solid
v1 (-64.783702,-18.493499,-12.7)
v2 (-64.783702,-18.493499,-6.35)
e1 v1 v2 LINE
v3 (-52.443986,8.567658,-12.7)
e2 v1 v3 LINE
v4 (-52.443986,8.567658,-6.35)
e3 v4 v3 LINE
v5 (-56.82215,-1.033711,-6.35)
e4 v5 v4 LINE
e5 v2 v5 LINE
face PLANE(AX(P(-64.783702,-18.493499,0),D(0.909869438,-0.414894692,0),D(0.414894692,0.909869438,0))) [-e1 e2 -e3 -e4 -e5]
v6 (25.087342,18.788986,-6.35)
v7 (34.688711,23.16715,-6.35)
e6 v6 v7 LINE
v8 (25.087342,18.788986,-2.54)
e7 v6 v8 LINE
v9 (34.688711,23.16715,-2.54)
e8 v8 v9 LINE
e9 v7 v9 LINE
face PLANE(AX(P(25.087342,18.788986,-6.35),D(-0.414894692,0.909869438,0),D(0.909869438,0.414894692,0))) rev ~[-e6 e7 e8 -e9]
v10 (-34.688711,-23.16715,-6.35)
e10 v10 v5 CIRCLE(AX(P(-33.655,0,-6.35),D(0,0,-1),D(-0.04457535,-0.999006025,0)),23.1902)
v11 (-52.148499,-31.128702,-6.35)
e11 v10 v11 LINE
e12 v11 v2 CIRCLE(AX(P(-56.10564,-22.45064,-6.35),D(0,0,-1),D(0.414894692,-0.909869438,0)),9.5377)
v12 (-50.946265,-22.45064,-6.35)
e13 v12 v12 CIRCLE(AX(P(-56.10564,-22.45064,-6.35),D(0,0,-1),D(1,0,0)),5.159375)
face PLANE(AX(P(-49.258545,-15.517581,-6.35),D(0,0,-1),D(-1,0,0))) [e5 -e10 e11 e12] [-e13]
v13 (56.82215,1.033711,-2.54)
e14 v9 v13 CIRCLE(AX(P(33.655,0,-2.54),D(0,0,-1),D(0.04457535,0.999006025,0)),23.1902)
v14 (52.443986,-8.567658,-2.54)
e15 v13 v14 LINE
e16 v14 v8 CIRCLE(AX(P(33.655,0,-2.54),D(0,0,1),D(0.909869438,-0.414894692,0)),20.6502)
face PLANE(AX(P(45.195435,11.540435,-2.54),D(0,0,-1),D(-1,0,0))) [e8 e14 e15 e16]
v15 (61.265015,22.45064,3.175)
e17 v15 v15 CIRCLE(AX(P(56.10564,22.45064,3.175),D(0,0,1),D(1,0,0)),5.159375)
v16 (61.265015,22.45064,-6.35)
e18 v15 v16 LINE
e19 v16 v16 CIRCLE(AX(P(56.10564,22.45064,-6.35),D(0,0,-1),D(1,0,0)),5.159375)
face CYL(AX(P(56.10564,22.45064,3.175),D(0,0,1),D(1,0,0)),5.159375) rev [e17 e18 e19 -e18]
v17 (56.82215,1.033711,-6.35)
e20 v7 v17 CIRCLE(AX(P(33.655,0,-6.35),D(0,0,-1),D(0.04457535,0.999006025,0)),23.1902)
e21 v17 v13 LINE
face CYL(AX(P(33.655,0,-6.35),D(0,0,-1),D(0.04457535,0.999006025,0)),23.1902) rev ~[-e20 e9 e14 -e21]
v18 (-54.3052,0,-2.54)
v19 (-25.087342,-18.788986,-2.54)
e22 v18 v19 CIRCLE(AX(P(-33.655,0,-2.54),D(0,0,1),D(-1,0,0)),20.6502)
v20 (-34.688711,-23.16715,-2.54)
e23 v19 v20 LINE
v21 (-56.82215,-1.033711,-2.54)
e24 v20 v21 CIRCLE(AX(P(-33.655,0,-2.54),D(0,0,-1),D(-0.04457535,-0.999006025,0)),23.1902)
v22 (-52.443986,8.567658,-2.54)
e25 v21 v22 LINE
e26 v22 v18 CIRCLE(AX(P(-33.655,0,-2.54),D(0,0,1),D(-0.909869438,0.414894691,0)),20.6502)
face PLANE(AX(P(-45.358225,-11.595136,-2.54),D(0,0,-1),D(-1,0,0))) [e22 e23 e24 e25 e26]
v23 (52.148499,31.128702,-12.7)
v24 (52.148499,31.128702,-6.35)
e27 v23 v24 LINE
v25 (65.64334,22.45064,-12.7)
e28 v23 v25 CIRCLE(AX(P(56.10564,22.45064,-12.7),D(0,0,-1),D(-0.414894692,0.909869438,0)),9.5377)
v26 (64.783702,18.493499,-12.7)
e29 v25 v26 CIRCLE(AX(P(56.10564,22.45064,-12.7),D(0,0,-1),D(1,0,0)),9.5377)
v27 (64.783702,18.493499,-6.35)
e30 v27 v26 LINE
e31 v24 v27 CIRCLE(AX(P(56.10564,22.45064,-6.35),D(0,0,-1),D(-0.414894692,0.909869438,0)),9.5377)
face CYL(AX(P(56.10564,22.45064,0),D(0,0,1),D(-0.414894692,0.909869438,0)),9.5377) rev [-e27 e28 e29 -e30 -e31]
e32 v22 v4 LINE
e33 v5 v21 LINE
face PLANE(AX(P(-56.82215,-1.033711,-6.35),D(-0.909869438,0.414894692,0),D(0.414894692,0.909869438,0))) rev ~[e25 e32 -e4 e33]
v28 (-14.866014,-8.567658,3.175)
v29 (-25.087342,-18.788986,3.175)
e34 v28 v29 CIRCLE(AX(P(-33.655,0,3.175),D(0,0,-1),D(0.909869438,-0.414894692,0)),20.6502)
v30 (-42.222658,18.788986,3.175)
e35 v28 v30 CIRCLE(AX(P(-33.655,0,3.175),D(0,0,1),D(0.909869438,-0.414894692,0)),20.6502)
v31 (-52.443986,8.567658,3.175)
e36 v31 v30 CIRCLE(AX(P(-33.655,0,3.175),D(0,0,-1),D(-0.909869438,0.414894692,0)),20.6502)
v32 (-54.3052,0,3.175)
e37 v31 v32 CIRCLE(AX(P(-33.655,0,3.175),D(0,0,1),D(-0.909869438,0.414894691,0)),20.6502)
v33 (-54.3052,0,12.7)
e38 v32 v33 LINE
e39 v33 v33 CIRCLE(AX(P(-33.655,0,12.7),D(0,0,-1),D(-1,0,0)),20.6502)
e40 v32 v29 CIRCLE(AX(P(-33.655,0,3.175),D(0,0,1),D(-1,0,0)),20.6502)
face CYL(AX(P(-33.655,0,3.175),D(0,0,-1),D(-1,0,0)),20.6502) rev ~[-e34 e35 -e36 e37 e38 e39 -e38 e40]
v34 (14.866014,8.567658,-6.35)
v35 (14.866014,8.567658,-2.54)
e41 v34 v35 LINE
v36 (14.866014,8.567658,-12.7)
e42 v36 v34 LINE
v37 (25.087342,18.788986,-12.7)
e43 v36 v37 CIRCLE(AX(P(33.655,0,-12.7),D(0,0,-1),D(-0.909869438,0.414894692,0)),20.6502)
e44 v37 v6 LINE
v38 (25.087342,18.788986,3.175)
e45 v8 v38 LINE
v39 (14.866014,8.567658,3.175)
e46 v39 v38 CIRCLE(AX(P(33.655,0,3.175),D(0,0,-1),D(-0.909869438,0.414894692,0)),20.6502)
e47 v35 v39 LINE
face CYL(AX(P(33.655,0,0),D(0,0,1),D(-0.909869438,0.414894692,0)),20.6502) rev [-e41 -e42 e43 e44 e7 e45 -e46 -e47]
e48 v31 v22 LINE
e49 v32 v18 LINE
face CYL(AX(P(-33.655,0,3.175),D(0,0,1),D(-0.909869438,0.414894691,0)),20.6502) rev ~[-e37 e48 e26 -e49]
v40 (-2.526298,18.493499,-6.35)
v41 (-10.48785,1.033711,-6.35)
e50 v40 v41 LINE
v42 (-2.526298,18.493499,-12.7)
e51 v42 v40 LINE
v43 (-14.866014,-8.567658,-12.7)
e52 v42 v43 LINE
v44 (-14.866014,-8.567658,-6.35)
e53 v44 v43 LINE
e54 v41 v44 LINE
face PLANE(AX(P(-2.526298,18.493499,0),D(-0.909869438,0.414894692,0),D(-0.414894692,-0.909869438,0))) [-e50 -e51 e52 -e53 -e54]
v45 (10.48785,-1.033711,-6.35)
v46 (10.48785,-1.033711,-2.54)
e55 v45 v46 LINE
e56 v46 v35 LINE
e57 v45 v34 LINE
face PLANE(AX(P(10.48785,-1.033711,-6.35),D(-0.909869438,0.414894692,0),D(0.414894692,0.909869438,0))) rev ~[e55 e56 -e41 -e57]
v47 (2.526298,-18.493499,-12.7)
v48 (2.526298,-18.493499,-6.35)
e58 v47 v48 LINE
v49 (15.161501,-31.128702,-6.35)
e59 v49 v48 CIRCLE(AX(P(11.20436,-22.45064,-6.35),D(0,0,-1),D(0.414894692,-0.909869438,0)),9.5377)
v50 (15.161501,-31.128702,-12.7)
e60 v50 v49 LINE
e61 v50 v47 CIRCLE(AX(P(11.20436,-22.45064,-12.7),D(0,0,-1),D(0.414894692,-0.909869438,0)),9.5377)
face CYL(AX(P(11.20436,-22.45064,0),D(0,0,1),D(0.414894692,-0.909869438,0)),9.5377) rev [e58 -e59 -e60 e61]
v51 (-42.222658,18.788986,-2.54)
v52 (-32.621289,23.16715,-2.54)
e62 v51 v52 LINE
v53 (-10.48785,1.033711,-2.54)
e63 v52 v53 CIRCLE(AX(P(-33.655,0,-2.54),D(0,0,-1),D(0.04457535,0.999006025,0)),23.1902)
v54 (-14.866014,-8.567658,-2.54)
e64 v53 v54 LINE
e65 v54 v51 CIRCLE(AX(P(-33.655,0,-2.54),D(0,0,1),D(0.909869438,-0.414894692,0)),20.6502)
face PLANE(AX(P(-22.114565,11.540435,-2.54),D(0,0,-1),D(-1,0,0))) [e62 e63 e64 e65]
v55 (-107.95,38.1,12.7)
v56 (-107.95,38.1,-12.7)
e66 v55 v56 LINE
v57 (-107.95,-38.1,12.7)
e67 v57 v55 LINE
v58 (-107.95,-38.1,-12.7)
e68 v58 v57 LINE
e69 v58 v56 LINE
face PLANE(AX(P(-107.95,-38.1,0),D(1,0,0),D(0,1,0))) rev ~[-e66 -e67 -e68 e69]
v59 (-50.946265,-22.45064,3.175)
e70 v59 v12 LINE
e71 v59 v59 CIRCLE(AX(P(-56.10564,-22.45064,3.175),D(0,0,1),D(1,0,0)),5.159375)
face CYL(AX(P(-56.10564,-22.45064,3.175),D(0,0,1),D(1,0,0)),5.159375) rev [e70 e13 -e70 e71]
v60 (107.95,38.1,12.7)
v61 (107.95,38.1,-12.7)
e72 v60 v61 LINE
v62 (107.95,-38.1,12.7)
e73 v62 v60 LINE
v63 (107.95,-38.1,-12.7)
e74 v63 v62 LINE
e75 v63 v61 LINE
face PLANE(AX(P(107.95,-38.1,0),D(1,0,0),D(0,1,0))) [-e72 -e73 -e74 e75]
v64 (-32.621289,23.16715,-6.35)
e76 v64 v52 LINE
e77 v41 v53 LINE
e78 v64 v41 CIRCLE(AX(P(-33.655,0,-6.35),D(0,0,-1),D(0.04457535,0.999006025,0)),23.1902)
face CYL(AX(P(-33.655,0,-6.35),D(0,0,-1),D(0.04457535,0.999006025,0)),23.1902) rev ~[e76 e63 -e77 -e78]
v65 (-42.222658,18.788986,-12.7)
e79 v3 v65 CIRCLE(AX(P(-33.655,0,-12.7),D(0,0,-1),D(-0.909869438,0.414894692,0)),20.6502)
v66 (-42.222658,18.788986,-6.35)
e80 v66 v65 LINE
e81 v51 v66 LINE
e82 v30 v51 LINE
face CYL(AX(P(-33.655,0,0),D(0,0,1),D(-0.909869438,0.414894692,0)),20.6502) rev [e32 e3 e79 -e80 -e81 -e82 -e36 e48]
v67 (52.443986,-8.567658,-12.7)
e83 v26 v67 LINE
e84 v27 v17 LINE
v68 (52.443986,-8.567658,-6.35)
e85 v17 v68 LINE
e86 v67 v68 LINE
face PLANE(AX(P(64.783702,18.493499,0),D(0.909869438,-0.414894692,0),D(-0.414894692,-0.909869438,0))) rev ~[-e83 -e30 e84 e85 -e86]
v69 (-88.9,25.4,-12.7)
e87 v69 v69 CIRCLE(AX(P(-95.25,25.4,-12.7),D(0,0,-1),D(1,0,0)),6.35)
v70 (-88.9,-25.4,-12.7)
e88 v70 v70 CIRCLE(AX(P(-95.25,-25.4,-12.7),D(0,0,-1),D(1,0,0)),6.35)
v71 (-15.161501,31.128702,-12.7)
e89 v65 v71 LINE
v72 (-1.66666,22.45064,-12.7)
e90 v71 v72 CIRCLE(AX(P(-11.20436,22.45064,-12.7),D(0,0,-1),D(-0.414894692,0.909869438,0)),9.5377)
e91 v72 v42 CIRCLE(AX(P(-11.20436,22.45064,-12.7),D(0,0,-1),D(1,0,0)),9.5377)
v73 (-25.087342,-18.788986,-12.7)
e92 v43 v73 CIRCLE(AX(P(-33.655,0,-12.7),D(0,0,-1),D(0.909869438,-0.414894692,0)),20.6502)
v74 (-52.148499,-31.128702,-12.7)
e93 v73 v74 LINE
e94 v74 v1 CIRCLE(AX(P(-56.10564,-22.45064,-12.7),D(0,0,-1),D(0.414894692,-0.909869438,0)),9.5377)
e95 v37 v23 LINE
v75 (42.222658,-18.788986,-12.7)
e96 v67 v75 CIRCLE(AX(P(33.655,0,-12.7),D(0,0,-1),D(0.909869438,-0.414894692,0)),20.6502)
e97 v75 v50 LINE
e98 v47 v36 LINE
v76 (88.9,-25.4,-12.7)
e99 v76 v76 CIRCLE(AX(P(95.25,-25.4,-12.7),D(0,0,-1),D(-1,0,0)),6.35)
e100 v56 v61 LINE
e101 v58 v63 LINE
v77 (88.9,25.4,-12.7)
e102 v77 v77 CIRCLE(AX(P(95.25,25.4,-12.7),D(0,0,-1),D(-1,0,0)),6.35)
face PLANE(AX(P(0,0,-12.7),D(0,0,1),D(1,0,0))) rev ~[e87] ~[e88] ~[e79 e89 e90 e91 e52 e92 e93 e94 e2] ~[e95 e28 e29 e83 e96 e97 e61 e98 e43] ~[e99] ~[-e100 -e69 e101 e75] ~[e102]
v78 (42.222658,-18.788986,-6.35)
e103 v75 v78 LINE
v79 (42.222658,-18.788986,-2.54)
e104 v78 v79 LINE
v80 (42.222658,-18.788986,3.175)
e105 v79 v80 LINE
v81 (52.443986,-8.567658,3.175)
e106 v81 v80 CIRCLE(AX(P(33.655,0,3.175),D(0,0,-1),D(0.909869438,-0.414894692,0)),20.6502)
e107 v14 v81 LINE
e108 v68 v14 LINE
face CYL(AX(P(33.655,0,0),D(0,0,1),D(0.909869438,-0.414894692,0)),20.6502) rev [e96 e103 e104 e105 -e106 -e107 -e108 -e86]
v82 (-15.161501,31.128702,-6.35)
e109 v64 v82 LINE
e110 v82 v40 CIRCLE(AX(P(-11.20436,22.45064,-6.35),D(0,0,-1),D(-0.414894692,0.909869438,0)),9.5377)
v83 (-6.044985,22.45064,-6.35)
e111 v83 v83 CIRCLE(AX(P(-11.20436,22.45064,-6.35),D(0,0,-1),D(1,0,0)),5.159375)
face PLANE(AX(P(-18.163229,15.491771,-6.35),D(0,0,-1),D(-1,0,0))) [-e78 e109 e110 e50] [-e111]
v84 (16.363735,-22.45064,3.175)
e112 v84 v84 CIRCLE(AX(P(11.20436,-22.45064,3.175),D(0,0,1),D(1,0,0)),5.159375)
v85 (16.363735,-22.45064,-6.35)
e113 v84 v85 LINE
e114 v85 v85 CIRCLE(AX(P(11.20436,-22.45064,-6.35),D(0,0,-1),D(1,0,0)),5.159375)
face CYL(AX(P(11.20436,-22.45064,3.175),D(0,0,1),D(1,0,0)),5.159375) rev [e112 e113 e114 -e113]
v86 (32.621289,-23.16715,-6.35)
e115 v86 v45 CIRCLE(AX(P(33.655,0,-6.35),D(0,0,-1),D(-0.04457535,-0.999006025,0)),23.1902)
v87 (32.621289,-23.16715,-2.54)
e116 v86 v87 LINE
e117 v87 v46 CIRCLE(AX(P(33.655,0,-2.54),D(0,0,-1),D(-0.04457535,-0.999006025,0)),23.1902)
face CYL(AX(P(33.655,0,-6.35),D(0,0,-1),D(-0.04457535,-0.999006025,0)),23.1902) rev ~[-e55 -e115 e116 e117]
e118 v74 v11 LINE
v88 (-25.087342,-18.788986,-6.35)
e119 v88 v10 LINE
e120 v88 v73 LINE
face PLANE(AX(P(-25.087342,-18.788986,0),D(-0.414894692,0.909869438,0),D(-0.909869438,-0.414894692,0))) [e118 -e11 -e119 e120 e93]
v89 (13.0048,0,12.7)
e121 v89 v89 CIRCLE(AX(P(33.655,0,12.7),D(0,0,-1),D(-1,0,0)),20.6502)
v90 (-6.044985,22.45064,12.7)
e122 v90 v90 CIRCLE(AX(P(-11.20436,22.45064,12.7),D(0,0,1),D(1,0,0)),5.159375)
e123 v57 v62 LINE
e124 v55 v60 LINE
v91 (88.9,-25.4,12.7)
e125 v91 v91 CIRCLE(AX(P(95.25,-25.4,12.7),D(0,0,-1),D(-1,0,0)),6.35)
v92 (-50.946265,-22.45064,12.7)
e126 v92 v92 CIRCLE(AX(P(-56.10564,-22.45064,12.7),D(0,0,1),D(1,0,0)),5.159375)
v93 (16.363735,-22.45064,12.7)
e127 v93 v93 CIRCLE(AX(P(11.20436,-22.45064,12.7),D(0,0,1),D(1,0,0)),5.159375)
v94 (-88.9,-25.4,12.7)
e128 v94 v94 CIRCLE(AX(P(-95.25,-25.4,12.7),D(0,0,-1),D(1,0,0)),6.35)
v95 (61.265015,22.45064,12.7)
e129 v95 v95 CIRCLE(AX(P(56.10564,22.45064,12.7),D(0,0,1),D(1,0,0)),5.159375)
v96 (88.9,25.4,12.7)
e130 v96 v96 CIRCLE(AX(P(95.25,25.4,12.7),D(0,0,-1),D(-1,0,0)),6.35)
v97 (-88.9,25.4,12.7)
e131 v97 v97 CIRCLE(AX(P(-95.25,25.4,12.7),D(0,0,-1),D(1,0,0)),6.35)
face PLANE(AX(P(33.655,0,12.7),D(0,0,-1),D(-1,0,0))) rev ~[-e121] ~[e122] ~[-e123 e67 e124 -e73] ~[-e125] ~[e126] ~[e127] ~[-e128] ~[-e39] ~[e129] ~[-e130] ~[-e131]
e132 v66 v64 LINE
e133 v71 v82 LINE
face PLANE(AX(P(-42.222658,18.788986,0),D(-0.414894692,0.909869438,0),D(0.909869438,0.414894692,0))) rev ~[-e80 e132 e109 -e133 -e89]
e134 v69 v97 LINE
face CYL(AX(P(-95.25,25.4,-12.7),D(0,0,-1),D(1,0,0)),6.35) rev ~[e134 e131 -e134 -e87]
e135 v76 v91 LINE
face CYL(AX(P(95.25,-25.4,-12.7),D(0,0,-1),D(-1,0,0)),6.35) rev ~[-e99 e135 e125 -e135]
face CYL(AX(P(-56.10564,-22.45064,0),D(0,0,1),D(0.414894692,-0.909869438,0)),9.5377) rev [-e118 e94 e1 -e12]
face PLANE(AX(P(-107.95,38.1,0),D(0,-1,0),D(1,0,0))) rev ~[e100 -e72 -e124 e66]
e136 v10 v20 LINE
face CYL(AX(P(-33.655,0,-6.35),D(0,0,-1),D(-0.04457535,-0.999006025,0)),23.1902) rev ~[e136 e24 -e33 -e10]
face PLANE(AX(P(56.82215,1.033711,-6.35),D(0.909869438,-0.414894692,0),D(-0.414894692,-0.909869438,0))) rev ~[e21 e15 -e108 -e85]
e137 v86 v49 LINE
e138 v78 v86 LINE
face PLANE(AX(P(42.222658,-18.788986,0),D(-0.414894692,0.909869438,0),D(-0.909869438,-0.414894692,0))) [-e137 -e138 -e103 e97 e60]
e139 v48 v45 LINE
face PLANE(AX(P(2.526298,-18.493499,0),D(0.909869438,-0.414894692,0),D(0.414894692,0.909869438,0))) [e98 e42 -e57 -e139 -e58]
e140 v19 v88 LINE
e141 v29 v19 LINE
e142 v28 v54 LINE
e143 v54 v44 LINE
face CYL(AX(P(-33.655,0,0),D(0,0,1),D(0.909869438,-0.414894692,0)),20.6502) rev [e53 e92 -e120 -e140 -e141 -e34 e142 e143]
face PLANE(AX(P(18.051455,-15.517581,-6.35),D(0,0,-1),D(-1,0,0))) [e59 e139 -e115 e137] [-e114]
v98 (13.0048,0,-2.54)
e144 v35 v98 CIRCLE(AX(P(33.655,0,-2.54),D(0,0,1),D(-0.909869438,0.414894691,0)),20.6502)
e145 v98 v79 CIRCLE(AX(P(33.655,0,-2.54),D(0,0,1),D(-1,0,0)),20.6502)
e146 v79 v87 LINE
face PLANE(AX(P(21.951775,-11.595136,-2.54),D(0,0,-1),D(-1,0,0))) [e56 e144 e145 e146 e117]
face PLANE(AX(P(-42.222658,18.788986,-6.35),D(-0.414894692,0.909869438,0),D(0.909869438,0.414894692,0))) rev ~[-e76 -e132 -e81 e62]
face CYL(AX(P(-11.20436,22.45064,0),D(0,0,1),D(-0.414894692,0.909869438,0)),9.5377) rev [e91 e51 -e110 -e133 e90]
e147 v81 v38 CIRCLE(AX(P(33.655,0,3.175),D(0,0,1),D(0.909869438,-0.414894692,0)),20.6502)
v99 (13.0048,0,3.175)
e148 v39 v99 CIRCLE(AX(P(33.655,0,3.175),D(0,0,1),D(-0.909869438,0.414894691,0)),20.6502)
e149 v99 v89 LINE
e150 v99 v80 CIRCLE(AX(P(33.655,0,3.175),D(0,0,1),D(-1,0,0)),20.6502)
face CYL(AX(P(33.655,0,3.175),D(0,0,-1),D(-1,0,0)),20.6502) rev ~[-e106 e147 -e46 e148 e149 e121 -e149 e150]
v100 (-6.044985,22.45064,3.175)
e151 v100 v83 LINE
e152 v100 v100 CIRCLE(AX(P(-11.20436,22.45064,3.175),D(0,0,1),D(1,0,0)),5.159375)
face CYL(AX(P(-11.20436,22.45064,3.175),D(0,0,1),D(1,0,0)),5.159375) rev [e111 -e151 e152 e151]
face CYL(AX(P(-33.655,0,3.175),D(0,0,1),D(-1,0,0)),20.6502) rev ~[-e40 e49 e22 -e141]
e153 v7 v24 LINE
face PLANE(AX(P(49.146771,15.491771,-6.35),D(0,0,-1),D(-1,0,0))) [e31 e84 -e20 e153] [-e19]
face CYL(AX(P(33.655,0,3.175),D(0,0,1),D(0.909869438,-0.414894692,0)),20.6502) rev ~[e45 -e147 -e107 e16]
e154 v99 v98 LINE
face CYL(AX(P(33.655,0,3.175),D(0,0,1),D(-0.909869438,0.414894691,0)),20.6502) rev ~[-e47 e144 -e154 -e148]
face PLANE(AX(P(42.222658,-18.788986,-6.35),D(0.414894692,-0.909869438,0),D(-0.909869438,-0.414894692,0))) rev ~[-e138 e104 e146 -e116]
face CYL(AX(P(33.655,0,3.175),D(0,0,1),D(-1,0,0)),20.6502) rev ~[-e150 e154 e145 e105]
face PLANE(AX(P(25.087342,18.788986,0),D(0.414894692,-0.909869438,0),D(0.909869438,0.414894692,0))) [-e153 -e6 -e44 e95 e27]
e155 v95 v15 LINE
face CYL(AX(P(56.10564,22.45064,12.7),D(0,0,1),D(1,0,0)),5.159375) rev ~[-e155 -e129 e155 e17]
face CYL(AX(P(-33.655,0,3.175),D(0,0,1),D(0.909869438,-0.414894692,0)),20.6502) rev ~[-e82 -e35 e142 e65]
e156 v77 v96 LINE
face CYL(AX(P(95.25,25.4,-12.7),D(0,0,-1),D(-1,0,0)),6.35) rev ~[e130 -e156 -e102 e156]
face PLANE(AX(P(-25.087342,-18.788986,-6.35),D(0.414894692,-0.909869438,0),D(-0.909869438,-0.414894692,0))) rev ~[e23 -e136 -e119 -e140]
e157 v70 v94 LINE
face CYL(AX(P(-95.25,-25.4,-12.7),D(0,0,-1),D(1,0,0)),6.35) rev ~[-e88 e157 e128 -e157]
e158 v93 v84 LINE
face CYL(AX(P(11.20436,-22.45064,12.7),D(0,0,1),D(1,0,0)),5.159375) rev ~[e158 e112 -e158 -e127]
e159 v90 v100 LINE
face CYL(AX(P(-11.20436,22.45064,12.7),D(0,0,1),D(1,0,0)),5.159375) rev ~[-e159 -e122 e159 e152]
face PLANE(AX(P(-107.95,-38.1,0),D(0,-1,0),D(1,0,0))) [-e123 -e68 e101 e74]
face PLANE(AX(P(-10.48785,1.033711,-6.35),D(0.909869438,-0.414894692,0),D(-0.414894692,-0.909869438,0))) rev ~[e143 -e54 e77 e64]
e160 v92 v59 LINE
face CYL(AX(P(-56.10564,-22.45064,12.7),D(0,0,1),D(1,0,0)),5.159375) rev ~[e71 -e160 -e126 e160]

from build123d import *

# Parameters (mm, degrees)
SKETCH1_W           = 215.9
SKETCH1_H           = 76.2
BOSS_EXTRUDE1_DEPTH = 12.7
SKETCH2_R           = 5.159375
SKETCH2_R_2         = 6.985
BOSS_EXTRUDE2_DEPTH = 9.525
SKETCH3_R           = 5.159375
BOSS_EXTRUDE3_DEPTH = 9.525
CUT_EXTRUDE1_DEPTH  = 3.81
LPATTERN1_COUNT     = 2
LPATTERN1_PITCH     = 67.31
SKETCH5_R           = 13.335
CUT_EXTRUDE2_DEPTH  = 2.54
SKETCH6_R           = 6.35
CUT_EXTRUDE3_DEPTH  = 118.260276735
SKETCH7_R           = 20.6502
CUT_EXTRUDE4_DEPTH  = 116.571744492


with BuildPart() as part:
    # Sketch1 → Boss-Extrude1 (new, symmetric)
    with BuildSketch(Plane.XY):
        Rectangle(SKETCH1_W, SKETCH1_H)
        with BuildLine():
            ThreePointArc((-52.148499203, -31.128702045), (-62.84981265, -29.19481265), (-64.783702045, -18.493499203))
            Line((-64.783702045, -18.493499203), (-52.443985877, 8.56765836))
            ThreePointArc((-52.443985877, 8.56765836), (-48.256896453, 14.601896453), (-42.22265836, 18.788985877))
            Line((-42.22265836, 18.788985877), (-15.161500797, 31.128702045))
            ThreePointArc((-15.161500797, 31.128702045), (-6.045595474, 30.472789203), (-1.666659697, 22.450640303))
            ThreePointArc((-1.666659697, 22.450640303), (-1.884046645, 20.42592158), (-2.526297955, 18.493499203))
            Line((-2.526297955, 18.493499203), (-14.866014123, -8.56765836))
            ThreePointArc((-14.866014123, -8.56765836), (-19.053103547, -14.601896453), (-25.08734164, -18.788985877))
            Line((-25.08734164, -18.788985877), (-52.148499203, -31.128702045))
        make_face(mode=Mode.SUBTRACT)
        with BuildLine():
            Line((64.783702045, 18.493499203), (52.443985877, -8.56765836))
            ThreePointArc((52.443985877, -8.56765836), (48.256896453, -14.601896453), (42.22265836, -18.788985877))
            Line((42.22265836, -18.788985877), (15.161500797, -31.128702045))
            ThreePointArc((15.161500797, -31.128702045), (4.46018735, -29.19481265), (2.526297955, -18.493499203))
            Line((2.526297955, -18.493499203), (14.866014123, 8.56765836))
            ThreePointArc((14.866014123, 8.56765836), (19.053103547, 14.601896453), (25.08734164, 18.788985877))
            Line((25.08734164, 18.788985877), (52.148499203, 31.128702045))
            ThreePointArc((52.148499203, 31.128702045), (61.264404526, 30.472789203), (65.643340303, 22.450640303))
            ThreePointArc((65.643340303, 22.450640303), (65.425953355, 20.42592158), (64.783702045, 18.493499203))
        make_face(mode=Mode.SUBTRACT)
    extrude(amount=BOSS_EXTRUDE1_DEPTH, both=True)

    # Sketch2 → Boss-Extrude2 (add)
    with BuildSketch(Plane.XY.offset(12.7)):
        with BuildLine():
            Line((-64.783702045, -18.493499203), (-52.443985877, 8.56765836))
            ThreePointArc((-52.443985877, 8.56765836), (-48.256896453, 14.601896453), (-42.22265836, 18.788985877))
            Line((-42.22265836, 18.788985877), (-15.161500797, 31.128702045))
            ThreePointArc((-15.161500797, 31.128702045), (-4.46018735, 29.19481265), (-2.526297955, 18.493499203))
            Line((-2.526297955, 18.493499203), (-14.866014123, -8.56765836))
            ThreePointArc((-14.866014123, -8.56765836), (-19.053103547, -14.601896453), (-25.08734164, -18.788985877))
            Line((-25.08734164, -18.788985877), (-52.148499203, -31.128702045))
            ThreePointArc((-52.148499203, -31.128702045), (-62.84981265, -29.19481265), (-64.783702045, -18.493499203))
        make_face()
        with Locations((-11.204359697, 22.450640303)):
            Circle(SKETCH2_R, mode=Mode.SUBTRACT)
        with Locations((-56.105640303, -22.450640303)):
            Circle(SKETCH2_R, mode=Mode.SUBTRACT)
        with Locations((-33.655, 0)):
            Circle(SKETCH2_R_2, mode=Mode.SUBTRACT)
    boss_extrude2 = extrude(amount=-BOSS_EXTRUDE2_DEPTH)

    # Sketch3 → Boss-Extrude3 (add)
    with BuildSketch(Plane(origin=(0, 0, 3.175), x_dir=(-1, 0, 0), z_dir=(0, 0, -1))):
        with BuildLine():
            ThreePointArc((14.866014123, -8.56765836), (19.053103547, 14.601896453), (42.22265836, 18.788985877))
            Line((42.22265836, 18.788985877), (15.161500797, 31.128702045))
            ThreePointArc((15.161500797, 31.128702045), (4.46018735, 29.19481265), (2.526297955, 18.493499203))
            Line((2.526297955, 18.493499203), (14.866014123, -8.56765836))
        make_face()
        with Locations(Location((11.204359697, 22.450640303, 0), (0, 0, 180))):
            Circle(SKETCH3_R, mode=Mode.SUBTRACT)
        with BuildLine():
            Line((64.783702045, -18.493499203), (52.443985877, 8.56765836))
            ThreePointArc((52.443985877, 8.56765836), (53.834532653, 4.383745196), (54.3052, 0))
            ThreePointArc((54.3052, 0), (44.824308425, -17.368860335), (25.08734164, -18.788985877))
            Line((25.08734164, -18.788985877), (52.148499203, -31.128702045))
            ThreePointArc((52.148499203, -31.128702045), (62.84981265, -29.19481265), (64.783702045, -18.493499203))
        make_face()
        with Locations(Location((56.105640303, -22.450640303, 0), (0, 0, 180))):
            Circle(SKETCH3_R, mode=Mode.SUBTRACT)
    boss_extrude3 = extrude(amount=BOSS_EXTRUDE3_DEPTH)

    # Sketch4 → Cut-Extrude1 (cut)
    with BuildSketch(Plane(origin=(0, 0, -6.35), x_dir=(-1, 0, 0), z_dir=(0, 0, -1))):
        with BuildLine():
            ThreePointArc((32.621288713, 23.167149523), (17.257052323, 16.397947677), (10.487850477, 1.033711287))
            Line((10.487850477, 1.033711287), (14.866014123, -8.56765836))
            ThreePointArc((14.866014123, -8.56765836), (19.053103547, 14.601896453), (42.22265836, 18.788985877))
            Line((42.22265836, 18.788985877), (32.621288713, 23.167149523))
        make_face()
        with BuildLine():
            Line((25.08734164, -18.788985877), (34.688711287, -23.167149523))
            ThreePointArc((34.688711287, -23.167149523), (50.052947677, -16.397947677), (56.822149523, -1.033711287))
            Line((56.822149523, -1.033711287), (52.443985877, 8.56765836))
            ThreePointArc((52.443985877, 8.56765836), (53.834532653, 4.383745196), (54.3052, 0))
            ThreePointArc((54.3052, 0), (44.824308425, -17.368860335), (25.08734164, -18.788985877))
        make_face()
    cut_extrude1 = extrude(amount=-CUT_EXTRUDE1_DEPTH, mode=Mode.SUBTRACT)

    # LPattern1: Boss-Extrude2, Boss-Extrude3, Cut-Extrude1 ×2
    with Locations(*[(i * LPATTERN1_PITCH, 0, 0) for i in range(1, LPATTERN1_COUNT)]):
        add(boss_extrude2)
        add(boss_extrude3)
        add(cut_extrude1, mode=Mode.SUBTRACT)

    # Sketch5 → Cut-Extrude2 (cut)
    with BuildSketch(Plane(origin=(0, 0, 3.175), x_dir=(-1, 0, 0), z_dir=(0, 0, -1))):
        with Locations((33.655, 0)):
            Circle(SKETCH5_R)
        with Locations((-33.655, 0)):
            Circle(SKETCH5_R)
    extrude(amount=-CUT_EXTRUDE2_DEPTH, mode=Mode.SUBTRACT)

    # Sketch6 → Cut-Extrude3 (cut, through all)
    with BuildSketch(Plane(origin=(0, 0, -12.7), x_dir=(-1, 0, 0), z_dir=(0, 0, -1))):
        with Locations((-95.25, 25.4)):
            Circle(SKETCH6_R)
        with Locations((-95.25, -25.4)):
            Circle(SKETCH6_R)
        with Locations(Location((95.25, -25.4, 0), (0, 0, 180))):
            Circle(SKETCH6_R)
        with Locations(Location((95.25, 25.4, 0), (0, 0, 180))):
            Circle(SKETCH6_R)
    extrude(amount=-CUT_EXTRUDE3_DEPTH, mode=Mode.SUBTRACT)

    # Sketch7 → Cut-Extrude4 (cut, through all)
    with BuildSketch(Plane(origin=(0, 0, 3.175), x_dir=(-1, 0, 0), z_dir=(0, 0, -1))):
        with Locations((-33.655, 0)):
            Circle(SKETCH7_R)
        with Locations((33.655, 0)):
            Circle(SKETCH7_R)
    extrude(amount=-CUT_EXTRUDE4_DEPTH, mode=Mode.SUBTRACT)


solid = part.part
